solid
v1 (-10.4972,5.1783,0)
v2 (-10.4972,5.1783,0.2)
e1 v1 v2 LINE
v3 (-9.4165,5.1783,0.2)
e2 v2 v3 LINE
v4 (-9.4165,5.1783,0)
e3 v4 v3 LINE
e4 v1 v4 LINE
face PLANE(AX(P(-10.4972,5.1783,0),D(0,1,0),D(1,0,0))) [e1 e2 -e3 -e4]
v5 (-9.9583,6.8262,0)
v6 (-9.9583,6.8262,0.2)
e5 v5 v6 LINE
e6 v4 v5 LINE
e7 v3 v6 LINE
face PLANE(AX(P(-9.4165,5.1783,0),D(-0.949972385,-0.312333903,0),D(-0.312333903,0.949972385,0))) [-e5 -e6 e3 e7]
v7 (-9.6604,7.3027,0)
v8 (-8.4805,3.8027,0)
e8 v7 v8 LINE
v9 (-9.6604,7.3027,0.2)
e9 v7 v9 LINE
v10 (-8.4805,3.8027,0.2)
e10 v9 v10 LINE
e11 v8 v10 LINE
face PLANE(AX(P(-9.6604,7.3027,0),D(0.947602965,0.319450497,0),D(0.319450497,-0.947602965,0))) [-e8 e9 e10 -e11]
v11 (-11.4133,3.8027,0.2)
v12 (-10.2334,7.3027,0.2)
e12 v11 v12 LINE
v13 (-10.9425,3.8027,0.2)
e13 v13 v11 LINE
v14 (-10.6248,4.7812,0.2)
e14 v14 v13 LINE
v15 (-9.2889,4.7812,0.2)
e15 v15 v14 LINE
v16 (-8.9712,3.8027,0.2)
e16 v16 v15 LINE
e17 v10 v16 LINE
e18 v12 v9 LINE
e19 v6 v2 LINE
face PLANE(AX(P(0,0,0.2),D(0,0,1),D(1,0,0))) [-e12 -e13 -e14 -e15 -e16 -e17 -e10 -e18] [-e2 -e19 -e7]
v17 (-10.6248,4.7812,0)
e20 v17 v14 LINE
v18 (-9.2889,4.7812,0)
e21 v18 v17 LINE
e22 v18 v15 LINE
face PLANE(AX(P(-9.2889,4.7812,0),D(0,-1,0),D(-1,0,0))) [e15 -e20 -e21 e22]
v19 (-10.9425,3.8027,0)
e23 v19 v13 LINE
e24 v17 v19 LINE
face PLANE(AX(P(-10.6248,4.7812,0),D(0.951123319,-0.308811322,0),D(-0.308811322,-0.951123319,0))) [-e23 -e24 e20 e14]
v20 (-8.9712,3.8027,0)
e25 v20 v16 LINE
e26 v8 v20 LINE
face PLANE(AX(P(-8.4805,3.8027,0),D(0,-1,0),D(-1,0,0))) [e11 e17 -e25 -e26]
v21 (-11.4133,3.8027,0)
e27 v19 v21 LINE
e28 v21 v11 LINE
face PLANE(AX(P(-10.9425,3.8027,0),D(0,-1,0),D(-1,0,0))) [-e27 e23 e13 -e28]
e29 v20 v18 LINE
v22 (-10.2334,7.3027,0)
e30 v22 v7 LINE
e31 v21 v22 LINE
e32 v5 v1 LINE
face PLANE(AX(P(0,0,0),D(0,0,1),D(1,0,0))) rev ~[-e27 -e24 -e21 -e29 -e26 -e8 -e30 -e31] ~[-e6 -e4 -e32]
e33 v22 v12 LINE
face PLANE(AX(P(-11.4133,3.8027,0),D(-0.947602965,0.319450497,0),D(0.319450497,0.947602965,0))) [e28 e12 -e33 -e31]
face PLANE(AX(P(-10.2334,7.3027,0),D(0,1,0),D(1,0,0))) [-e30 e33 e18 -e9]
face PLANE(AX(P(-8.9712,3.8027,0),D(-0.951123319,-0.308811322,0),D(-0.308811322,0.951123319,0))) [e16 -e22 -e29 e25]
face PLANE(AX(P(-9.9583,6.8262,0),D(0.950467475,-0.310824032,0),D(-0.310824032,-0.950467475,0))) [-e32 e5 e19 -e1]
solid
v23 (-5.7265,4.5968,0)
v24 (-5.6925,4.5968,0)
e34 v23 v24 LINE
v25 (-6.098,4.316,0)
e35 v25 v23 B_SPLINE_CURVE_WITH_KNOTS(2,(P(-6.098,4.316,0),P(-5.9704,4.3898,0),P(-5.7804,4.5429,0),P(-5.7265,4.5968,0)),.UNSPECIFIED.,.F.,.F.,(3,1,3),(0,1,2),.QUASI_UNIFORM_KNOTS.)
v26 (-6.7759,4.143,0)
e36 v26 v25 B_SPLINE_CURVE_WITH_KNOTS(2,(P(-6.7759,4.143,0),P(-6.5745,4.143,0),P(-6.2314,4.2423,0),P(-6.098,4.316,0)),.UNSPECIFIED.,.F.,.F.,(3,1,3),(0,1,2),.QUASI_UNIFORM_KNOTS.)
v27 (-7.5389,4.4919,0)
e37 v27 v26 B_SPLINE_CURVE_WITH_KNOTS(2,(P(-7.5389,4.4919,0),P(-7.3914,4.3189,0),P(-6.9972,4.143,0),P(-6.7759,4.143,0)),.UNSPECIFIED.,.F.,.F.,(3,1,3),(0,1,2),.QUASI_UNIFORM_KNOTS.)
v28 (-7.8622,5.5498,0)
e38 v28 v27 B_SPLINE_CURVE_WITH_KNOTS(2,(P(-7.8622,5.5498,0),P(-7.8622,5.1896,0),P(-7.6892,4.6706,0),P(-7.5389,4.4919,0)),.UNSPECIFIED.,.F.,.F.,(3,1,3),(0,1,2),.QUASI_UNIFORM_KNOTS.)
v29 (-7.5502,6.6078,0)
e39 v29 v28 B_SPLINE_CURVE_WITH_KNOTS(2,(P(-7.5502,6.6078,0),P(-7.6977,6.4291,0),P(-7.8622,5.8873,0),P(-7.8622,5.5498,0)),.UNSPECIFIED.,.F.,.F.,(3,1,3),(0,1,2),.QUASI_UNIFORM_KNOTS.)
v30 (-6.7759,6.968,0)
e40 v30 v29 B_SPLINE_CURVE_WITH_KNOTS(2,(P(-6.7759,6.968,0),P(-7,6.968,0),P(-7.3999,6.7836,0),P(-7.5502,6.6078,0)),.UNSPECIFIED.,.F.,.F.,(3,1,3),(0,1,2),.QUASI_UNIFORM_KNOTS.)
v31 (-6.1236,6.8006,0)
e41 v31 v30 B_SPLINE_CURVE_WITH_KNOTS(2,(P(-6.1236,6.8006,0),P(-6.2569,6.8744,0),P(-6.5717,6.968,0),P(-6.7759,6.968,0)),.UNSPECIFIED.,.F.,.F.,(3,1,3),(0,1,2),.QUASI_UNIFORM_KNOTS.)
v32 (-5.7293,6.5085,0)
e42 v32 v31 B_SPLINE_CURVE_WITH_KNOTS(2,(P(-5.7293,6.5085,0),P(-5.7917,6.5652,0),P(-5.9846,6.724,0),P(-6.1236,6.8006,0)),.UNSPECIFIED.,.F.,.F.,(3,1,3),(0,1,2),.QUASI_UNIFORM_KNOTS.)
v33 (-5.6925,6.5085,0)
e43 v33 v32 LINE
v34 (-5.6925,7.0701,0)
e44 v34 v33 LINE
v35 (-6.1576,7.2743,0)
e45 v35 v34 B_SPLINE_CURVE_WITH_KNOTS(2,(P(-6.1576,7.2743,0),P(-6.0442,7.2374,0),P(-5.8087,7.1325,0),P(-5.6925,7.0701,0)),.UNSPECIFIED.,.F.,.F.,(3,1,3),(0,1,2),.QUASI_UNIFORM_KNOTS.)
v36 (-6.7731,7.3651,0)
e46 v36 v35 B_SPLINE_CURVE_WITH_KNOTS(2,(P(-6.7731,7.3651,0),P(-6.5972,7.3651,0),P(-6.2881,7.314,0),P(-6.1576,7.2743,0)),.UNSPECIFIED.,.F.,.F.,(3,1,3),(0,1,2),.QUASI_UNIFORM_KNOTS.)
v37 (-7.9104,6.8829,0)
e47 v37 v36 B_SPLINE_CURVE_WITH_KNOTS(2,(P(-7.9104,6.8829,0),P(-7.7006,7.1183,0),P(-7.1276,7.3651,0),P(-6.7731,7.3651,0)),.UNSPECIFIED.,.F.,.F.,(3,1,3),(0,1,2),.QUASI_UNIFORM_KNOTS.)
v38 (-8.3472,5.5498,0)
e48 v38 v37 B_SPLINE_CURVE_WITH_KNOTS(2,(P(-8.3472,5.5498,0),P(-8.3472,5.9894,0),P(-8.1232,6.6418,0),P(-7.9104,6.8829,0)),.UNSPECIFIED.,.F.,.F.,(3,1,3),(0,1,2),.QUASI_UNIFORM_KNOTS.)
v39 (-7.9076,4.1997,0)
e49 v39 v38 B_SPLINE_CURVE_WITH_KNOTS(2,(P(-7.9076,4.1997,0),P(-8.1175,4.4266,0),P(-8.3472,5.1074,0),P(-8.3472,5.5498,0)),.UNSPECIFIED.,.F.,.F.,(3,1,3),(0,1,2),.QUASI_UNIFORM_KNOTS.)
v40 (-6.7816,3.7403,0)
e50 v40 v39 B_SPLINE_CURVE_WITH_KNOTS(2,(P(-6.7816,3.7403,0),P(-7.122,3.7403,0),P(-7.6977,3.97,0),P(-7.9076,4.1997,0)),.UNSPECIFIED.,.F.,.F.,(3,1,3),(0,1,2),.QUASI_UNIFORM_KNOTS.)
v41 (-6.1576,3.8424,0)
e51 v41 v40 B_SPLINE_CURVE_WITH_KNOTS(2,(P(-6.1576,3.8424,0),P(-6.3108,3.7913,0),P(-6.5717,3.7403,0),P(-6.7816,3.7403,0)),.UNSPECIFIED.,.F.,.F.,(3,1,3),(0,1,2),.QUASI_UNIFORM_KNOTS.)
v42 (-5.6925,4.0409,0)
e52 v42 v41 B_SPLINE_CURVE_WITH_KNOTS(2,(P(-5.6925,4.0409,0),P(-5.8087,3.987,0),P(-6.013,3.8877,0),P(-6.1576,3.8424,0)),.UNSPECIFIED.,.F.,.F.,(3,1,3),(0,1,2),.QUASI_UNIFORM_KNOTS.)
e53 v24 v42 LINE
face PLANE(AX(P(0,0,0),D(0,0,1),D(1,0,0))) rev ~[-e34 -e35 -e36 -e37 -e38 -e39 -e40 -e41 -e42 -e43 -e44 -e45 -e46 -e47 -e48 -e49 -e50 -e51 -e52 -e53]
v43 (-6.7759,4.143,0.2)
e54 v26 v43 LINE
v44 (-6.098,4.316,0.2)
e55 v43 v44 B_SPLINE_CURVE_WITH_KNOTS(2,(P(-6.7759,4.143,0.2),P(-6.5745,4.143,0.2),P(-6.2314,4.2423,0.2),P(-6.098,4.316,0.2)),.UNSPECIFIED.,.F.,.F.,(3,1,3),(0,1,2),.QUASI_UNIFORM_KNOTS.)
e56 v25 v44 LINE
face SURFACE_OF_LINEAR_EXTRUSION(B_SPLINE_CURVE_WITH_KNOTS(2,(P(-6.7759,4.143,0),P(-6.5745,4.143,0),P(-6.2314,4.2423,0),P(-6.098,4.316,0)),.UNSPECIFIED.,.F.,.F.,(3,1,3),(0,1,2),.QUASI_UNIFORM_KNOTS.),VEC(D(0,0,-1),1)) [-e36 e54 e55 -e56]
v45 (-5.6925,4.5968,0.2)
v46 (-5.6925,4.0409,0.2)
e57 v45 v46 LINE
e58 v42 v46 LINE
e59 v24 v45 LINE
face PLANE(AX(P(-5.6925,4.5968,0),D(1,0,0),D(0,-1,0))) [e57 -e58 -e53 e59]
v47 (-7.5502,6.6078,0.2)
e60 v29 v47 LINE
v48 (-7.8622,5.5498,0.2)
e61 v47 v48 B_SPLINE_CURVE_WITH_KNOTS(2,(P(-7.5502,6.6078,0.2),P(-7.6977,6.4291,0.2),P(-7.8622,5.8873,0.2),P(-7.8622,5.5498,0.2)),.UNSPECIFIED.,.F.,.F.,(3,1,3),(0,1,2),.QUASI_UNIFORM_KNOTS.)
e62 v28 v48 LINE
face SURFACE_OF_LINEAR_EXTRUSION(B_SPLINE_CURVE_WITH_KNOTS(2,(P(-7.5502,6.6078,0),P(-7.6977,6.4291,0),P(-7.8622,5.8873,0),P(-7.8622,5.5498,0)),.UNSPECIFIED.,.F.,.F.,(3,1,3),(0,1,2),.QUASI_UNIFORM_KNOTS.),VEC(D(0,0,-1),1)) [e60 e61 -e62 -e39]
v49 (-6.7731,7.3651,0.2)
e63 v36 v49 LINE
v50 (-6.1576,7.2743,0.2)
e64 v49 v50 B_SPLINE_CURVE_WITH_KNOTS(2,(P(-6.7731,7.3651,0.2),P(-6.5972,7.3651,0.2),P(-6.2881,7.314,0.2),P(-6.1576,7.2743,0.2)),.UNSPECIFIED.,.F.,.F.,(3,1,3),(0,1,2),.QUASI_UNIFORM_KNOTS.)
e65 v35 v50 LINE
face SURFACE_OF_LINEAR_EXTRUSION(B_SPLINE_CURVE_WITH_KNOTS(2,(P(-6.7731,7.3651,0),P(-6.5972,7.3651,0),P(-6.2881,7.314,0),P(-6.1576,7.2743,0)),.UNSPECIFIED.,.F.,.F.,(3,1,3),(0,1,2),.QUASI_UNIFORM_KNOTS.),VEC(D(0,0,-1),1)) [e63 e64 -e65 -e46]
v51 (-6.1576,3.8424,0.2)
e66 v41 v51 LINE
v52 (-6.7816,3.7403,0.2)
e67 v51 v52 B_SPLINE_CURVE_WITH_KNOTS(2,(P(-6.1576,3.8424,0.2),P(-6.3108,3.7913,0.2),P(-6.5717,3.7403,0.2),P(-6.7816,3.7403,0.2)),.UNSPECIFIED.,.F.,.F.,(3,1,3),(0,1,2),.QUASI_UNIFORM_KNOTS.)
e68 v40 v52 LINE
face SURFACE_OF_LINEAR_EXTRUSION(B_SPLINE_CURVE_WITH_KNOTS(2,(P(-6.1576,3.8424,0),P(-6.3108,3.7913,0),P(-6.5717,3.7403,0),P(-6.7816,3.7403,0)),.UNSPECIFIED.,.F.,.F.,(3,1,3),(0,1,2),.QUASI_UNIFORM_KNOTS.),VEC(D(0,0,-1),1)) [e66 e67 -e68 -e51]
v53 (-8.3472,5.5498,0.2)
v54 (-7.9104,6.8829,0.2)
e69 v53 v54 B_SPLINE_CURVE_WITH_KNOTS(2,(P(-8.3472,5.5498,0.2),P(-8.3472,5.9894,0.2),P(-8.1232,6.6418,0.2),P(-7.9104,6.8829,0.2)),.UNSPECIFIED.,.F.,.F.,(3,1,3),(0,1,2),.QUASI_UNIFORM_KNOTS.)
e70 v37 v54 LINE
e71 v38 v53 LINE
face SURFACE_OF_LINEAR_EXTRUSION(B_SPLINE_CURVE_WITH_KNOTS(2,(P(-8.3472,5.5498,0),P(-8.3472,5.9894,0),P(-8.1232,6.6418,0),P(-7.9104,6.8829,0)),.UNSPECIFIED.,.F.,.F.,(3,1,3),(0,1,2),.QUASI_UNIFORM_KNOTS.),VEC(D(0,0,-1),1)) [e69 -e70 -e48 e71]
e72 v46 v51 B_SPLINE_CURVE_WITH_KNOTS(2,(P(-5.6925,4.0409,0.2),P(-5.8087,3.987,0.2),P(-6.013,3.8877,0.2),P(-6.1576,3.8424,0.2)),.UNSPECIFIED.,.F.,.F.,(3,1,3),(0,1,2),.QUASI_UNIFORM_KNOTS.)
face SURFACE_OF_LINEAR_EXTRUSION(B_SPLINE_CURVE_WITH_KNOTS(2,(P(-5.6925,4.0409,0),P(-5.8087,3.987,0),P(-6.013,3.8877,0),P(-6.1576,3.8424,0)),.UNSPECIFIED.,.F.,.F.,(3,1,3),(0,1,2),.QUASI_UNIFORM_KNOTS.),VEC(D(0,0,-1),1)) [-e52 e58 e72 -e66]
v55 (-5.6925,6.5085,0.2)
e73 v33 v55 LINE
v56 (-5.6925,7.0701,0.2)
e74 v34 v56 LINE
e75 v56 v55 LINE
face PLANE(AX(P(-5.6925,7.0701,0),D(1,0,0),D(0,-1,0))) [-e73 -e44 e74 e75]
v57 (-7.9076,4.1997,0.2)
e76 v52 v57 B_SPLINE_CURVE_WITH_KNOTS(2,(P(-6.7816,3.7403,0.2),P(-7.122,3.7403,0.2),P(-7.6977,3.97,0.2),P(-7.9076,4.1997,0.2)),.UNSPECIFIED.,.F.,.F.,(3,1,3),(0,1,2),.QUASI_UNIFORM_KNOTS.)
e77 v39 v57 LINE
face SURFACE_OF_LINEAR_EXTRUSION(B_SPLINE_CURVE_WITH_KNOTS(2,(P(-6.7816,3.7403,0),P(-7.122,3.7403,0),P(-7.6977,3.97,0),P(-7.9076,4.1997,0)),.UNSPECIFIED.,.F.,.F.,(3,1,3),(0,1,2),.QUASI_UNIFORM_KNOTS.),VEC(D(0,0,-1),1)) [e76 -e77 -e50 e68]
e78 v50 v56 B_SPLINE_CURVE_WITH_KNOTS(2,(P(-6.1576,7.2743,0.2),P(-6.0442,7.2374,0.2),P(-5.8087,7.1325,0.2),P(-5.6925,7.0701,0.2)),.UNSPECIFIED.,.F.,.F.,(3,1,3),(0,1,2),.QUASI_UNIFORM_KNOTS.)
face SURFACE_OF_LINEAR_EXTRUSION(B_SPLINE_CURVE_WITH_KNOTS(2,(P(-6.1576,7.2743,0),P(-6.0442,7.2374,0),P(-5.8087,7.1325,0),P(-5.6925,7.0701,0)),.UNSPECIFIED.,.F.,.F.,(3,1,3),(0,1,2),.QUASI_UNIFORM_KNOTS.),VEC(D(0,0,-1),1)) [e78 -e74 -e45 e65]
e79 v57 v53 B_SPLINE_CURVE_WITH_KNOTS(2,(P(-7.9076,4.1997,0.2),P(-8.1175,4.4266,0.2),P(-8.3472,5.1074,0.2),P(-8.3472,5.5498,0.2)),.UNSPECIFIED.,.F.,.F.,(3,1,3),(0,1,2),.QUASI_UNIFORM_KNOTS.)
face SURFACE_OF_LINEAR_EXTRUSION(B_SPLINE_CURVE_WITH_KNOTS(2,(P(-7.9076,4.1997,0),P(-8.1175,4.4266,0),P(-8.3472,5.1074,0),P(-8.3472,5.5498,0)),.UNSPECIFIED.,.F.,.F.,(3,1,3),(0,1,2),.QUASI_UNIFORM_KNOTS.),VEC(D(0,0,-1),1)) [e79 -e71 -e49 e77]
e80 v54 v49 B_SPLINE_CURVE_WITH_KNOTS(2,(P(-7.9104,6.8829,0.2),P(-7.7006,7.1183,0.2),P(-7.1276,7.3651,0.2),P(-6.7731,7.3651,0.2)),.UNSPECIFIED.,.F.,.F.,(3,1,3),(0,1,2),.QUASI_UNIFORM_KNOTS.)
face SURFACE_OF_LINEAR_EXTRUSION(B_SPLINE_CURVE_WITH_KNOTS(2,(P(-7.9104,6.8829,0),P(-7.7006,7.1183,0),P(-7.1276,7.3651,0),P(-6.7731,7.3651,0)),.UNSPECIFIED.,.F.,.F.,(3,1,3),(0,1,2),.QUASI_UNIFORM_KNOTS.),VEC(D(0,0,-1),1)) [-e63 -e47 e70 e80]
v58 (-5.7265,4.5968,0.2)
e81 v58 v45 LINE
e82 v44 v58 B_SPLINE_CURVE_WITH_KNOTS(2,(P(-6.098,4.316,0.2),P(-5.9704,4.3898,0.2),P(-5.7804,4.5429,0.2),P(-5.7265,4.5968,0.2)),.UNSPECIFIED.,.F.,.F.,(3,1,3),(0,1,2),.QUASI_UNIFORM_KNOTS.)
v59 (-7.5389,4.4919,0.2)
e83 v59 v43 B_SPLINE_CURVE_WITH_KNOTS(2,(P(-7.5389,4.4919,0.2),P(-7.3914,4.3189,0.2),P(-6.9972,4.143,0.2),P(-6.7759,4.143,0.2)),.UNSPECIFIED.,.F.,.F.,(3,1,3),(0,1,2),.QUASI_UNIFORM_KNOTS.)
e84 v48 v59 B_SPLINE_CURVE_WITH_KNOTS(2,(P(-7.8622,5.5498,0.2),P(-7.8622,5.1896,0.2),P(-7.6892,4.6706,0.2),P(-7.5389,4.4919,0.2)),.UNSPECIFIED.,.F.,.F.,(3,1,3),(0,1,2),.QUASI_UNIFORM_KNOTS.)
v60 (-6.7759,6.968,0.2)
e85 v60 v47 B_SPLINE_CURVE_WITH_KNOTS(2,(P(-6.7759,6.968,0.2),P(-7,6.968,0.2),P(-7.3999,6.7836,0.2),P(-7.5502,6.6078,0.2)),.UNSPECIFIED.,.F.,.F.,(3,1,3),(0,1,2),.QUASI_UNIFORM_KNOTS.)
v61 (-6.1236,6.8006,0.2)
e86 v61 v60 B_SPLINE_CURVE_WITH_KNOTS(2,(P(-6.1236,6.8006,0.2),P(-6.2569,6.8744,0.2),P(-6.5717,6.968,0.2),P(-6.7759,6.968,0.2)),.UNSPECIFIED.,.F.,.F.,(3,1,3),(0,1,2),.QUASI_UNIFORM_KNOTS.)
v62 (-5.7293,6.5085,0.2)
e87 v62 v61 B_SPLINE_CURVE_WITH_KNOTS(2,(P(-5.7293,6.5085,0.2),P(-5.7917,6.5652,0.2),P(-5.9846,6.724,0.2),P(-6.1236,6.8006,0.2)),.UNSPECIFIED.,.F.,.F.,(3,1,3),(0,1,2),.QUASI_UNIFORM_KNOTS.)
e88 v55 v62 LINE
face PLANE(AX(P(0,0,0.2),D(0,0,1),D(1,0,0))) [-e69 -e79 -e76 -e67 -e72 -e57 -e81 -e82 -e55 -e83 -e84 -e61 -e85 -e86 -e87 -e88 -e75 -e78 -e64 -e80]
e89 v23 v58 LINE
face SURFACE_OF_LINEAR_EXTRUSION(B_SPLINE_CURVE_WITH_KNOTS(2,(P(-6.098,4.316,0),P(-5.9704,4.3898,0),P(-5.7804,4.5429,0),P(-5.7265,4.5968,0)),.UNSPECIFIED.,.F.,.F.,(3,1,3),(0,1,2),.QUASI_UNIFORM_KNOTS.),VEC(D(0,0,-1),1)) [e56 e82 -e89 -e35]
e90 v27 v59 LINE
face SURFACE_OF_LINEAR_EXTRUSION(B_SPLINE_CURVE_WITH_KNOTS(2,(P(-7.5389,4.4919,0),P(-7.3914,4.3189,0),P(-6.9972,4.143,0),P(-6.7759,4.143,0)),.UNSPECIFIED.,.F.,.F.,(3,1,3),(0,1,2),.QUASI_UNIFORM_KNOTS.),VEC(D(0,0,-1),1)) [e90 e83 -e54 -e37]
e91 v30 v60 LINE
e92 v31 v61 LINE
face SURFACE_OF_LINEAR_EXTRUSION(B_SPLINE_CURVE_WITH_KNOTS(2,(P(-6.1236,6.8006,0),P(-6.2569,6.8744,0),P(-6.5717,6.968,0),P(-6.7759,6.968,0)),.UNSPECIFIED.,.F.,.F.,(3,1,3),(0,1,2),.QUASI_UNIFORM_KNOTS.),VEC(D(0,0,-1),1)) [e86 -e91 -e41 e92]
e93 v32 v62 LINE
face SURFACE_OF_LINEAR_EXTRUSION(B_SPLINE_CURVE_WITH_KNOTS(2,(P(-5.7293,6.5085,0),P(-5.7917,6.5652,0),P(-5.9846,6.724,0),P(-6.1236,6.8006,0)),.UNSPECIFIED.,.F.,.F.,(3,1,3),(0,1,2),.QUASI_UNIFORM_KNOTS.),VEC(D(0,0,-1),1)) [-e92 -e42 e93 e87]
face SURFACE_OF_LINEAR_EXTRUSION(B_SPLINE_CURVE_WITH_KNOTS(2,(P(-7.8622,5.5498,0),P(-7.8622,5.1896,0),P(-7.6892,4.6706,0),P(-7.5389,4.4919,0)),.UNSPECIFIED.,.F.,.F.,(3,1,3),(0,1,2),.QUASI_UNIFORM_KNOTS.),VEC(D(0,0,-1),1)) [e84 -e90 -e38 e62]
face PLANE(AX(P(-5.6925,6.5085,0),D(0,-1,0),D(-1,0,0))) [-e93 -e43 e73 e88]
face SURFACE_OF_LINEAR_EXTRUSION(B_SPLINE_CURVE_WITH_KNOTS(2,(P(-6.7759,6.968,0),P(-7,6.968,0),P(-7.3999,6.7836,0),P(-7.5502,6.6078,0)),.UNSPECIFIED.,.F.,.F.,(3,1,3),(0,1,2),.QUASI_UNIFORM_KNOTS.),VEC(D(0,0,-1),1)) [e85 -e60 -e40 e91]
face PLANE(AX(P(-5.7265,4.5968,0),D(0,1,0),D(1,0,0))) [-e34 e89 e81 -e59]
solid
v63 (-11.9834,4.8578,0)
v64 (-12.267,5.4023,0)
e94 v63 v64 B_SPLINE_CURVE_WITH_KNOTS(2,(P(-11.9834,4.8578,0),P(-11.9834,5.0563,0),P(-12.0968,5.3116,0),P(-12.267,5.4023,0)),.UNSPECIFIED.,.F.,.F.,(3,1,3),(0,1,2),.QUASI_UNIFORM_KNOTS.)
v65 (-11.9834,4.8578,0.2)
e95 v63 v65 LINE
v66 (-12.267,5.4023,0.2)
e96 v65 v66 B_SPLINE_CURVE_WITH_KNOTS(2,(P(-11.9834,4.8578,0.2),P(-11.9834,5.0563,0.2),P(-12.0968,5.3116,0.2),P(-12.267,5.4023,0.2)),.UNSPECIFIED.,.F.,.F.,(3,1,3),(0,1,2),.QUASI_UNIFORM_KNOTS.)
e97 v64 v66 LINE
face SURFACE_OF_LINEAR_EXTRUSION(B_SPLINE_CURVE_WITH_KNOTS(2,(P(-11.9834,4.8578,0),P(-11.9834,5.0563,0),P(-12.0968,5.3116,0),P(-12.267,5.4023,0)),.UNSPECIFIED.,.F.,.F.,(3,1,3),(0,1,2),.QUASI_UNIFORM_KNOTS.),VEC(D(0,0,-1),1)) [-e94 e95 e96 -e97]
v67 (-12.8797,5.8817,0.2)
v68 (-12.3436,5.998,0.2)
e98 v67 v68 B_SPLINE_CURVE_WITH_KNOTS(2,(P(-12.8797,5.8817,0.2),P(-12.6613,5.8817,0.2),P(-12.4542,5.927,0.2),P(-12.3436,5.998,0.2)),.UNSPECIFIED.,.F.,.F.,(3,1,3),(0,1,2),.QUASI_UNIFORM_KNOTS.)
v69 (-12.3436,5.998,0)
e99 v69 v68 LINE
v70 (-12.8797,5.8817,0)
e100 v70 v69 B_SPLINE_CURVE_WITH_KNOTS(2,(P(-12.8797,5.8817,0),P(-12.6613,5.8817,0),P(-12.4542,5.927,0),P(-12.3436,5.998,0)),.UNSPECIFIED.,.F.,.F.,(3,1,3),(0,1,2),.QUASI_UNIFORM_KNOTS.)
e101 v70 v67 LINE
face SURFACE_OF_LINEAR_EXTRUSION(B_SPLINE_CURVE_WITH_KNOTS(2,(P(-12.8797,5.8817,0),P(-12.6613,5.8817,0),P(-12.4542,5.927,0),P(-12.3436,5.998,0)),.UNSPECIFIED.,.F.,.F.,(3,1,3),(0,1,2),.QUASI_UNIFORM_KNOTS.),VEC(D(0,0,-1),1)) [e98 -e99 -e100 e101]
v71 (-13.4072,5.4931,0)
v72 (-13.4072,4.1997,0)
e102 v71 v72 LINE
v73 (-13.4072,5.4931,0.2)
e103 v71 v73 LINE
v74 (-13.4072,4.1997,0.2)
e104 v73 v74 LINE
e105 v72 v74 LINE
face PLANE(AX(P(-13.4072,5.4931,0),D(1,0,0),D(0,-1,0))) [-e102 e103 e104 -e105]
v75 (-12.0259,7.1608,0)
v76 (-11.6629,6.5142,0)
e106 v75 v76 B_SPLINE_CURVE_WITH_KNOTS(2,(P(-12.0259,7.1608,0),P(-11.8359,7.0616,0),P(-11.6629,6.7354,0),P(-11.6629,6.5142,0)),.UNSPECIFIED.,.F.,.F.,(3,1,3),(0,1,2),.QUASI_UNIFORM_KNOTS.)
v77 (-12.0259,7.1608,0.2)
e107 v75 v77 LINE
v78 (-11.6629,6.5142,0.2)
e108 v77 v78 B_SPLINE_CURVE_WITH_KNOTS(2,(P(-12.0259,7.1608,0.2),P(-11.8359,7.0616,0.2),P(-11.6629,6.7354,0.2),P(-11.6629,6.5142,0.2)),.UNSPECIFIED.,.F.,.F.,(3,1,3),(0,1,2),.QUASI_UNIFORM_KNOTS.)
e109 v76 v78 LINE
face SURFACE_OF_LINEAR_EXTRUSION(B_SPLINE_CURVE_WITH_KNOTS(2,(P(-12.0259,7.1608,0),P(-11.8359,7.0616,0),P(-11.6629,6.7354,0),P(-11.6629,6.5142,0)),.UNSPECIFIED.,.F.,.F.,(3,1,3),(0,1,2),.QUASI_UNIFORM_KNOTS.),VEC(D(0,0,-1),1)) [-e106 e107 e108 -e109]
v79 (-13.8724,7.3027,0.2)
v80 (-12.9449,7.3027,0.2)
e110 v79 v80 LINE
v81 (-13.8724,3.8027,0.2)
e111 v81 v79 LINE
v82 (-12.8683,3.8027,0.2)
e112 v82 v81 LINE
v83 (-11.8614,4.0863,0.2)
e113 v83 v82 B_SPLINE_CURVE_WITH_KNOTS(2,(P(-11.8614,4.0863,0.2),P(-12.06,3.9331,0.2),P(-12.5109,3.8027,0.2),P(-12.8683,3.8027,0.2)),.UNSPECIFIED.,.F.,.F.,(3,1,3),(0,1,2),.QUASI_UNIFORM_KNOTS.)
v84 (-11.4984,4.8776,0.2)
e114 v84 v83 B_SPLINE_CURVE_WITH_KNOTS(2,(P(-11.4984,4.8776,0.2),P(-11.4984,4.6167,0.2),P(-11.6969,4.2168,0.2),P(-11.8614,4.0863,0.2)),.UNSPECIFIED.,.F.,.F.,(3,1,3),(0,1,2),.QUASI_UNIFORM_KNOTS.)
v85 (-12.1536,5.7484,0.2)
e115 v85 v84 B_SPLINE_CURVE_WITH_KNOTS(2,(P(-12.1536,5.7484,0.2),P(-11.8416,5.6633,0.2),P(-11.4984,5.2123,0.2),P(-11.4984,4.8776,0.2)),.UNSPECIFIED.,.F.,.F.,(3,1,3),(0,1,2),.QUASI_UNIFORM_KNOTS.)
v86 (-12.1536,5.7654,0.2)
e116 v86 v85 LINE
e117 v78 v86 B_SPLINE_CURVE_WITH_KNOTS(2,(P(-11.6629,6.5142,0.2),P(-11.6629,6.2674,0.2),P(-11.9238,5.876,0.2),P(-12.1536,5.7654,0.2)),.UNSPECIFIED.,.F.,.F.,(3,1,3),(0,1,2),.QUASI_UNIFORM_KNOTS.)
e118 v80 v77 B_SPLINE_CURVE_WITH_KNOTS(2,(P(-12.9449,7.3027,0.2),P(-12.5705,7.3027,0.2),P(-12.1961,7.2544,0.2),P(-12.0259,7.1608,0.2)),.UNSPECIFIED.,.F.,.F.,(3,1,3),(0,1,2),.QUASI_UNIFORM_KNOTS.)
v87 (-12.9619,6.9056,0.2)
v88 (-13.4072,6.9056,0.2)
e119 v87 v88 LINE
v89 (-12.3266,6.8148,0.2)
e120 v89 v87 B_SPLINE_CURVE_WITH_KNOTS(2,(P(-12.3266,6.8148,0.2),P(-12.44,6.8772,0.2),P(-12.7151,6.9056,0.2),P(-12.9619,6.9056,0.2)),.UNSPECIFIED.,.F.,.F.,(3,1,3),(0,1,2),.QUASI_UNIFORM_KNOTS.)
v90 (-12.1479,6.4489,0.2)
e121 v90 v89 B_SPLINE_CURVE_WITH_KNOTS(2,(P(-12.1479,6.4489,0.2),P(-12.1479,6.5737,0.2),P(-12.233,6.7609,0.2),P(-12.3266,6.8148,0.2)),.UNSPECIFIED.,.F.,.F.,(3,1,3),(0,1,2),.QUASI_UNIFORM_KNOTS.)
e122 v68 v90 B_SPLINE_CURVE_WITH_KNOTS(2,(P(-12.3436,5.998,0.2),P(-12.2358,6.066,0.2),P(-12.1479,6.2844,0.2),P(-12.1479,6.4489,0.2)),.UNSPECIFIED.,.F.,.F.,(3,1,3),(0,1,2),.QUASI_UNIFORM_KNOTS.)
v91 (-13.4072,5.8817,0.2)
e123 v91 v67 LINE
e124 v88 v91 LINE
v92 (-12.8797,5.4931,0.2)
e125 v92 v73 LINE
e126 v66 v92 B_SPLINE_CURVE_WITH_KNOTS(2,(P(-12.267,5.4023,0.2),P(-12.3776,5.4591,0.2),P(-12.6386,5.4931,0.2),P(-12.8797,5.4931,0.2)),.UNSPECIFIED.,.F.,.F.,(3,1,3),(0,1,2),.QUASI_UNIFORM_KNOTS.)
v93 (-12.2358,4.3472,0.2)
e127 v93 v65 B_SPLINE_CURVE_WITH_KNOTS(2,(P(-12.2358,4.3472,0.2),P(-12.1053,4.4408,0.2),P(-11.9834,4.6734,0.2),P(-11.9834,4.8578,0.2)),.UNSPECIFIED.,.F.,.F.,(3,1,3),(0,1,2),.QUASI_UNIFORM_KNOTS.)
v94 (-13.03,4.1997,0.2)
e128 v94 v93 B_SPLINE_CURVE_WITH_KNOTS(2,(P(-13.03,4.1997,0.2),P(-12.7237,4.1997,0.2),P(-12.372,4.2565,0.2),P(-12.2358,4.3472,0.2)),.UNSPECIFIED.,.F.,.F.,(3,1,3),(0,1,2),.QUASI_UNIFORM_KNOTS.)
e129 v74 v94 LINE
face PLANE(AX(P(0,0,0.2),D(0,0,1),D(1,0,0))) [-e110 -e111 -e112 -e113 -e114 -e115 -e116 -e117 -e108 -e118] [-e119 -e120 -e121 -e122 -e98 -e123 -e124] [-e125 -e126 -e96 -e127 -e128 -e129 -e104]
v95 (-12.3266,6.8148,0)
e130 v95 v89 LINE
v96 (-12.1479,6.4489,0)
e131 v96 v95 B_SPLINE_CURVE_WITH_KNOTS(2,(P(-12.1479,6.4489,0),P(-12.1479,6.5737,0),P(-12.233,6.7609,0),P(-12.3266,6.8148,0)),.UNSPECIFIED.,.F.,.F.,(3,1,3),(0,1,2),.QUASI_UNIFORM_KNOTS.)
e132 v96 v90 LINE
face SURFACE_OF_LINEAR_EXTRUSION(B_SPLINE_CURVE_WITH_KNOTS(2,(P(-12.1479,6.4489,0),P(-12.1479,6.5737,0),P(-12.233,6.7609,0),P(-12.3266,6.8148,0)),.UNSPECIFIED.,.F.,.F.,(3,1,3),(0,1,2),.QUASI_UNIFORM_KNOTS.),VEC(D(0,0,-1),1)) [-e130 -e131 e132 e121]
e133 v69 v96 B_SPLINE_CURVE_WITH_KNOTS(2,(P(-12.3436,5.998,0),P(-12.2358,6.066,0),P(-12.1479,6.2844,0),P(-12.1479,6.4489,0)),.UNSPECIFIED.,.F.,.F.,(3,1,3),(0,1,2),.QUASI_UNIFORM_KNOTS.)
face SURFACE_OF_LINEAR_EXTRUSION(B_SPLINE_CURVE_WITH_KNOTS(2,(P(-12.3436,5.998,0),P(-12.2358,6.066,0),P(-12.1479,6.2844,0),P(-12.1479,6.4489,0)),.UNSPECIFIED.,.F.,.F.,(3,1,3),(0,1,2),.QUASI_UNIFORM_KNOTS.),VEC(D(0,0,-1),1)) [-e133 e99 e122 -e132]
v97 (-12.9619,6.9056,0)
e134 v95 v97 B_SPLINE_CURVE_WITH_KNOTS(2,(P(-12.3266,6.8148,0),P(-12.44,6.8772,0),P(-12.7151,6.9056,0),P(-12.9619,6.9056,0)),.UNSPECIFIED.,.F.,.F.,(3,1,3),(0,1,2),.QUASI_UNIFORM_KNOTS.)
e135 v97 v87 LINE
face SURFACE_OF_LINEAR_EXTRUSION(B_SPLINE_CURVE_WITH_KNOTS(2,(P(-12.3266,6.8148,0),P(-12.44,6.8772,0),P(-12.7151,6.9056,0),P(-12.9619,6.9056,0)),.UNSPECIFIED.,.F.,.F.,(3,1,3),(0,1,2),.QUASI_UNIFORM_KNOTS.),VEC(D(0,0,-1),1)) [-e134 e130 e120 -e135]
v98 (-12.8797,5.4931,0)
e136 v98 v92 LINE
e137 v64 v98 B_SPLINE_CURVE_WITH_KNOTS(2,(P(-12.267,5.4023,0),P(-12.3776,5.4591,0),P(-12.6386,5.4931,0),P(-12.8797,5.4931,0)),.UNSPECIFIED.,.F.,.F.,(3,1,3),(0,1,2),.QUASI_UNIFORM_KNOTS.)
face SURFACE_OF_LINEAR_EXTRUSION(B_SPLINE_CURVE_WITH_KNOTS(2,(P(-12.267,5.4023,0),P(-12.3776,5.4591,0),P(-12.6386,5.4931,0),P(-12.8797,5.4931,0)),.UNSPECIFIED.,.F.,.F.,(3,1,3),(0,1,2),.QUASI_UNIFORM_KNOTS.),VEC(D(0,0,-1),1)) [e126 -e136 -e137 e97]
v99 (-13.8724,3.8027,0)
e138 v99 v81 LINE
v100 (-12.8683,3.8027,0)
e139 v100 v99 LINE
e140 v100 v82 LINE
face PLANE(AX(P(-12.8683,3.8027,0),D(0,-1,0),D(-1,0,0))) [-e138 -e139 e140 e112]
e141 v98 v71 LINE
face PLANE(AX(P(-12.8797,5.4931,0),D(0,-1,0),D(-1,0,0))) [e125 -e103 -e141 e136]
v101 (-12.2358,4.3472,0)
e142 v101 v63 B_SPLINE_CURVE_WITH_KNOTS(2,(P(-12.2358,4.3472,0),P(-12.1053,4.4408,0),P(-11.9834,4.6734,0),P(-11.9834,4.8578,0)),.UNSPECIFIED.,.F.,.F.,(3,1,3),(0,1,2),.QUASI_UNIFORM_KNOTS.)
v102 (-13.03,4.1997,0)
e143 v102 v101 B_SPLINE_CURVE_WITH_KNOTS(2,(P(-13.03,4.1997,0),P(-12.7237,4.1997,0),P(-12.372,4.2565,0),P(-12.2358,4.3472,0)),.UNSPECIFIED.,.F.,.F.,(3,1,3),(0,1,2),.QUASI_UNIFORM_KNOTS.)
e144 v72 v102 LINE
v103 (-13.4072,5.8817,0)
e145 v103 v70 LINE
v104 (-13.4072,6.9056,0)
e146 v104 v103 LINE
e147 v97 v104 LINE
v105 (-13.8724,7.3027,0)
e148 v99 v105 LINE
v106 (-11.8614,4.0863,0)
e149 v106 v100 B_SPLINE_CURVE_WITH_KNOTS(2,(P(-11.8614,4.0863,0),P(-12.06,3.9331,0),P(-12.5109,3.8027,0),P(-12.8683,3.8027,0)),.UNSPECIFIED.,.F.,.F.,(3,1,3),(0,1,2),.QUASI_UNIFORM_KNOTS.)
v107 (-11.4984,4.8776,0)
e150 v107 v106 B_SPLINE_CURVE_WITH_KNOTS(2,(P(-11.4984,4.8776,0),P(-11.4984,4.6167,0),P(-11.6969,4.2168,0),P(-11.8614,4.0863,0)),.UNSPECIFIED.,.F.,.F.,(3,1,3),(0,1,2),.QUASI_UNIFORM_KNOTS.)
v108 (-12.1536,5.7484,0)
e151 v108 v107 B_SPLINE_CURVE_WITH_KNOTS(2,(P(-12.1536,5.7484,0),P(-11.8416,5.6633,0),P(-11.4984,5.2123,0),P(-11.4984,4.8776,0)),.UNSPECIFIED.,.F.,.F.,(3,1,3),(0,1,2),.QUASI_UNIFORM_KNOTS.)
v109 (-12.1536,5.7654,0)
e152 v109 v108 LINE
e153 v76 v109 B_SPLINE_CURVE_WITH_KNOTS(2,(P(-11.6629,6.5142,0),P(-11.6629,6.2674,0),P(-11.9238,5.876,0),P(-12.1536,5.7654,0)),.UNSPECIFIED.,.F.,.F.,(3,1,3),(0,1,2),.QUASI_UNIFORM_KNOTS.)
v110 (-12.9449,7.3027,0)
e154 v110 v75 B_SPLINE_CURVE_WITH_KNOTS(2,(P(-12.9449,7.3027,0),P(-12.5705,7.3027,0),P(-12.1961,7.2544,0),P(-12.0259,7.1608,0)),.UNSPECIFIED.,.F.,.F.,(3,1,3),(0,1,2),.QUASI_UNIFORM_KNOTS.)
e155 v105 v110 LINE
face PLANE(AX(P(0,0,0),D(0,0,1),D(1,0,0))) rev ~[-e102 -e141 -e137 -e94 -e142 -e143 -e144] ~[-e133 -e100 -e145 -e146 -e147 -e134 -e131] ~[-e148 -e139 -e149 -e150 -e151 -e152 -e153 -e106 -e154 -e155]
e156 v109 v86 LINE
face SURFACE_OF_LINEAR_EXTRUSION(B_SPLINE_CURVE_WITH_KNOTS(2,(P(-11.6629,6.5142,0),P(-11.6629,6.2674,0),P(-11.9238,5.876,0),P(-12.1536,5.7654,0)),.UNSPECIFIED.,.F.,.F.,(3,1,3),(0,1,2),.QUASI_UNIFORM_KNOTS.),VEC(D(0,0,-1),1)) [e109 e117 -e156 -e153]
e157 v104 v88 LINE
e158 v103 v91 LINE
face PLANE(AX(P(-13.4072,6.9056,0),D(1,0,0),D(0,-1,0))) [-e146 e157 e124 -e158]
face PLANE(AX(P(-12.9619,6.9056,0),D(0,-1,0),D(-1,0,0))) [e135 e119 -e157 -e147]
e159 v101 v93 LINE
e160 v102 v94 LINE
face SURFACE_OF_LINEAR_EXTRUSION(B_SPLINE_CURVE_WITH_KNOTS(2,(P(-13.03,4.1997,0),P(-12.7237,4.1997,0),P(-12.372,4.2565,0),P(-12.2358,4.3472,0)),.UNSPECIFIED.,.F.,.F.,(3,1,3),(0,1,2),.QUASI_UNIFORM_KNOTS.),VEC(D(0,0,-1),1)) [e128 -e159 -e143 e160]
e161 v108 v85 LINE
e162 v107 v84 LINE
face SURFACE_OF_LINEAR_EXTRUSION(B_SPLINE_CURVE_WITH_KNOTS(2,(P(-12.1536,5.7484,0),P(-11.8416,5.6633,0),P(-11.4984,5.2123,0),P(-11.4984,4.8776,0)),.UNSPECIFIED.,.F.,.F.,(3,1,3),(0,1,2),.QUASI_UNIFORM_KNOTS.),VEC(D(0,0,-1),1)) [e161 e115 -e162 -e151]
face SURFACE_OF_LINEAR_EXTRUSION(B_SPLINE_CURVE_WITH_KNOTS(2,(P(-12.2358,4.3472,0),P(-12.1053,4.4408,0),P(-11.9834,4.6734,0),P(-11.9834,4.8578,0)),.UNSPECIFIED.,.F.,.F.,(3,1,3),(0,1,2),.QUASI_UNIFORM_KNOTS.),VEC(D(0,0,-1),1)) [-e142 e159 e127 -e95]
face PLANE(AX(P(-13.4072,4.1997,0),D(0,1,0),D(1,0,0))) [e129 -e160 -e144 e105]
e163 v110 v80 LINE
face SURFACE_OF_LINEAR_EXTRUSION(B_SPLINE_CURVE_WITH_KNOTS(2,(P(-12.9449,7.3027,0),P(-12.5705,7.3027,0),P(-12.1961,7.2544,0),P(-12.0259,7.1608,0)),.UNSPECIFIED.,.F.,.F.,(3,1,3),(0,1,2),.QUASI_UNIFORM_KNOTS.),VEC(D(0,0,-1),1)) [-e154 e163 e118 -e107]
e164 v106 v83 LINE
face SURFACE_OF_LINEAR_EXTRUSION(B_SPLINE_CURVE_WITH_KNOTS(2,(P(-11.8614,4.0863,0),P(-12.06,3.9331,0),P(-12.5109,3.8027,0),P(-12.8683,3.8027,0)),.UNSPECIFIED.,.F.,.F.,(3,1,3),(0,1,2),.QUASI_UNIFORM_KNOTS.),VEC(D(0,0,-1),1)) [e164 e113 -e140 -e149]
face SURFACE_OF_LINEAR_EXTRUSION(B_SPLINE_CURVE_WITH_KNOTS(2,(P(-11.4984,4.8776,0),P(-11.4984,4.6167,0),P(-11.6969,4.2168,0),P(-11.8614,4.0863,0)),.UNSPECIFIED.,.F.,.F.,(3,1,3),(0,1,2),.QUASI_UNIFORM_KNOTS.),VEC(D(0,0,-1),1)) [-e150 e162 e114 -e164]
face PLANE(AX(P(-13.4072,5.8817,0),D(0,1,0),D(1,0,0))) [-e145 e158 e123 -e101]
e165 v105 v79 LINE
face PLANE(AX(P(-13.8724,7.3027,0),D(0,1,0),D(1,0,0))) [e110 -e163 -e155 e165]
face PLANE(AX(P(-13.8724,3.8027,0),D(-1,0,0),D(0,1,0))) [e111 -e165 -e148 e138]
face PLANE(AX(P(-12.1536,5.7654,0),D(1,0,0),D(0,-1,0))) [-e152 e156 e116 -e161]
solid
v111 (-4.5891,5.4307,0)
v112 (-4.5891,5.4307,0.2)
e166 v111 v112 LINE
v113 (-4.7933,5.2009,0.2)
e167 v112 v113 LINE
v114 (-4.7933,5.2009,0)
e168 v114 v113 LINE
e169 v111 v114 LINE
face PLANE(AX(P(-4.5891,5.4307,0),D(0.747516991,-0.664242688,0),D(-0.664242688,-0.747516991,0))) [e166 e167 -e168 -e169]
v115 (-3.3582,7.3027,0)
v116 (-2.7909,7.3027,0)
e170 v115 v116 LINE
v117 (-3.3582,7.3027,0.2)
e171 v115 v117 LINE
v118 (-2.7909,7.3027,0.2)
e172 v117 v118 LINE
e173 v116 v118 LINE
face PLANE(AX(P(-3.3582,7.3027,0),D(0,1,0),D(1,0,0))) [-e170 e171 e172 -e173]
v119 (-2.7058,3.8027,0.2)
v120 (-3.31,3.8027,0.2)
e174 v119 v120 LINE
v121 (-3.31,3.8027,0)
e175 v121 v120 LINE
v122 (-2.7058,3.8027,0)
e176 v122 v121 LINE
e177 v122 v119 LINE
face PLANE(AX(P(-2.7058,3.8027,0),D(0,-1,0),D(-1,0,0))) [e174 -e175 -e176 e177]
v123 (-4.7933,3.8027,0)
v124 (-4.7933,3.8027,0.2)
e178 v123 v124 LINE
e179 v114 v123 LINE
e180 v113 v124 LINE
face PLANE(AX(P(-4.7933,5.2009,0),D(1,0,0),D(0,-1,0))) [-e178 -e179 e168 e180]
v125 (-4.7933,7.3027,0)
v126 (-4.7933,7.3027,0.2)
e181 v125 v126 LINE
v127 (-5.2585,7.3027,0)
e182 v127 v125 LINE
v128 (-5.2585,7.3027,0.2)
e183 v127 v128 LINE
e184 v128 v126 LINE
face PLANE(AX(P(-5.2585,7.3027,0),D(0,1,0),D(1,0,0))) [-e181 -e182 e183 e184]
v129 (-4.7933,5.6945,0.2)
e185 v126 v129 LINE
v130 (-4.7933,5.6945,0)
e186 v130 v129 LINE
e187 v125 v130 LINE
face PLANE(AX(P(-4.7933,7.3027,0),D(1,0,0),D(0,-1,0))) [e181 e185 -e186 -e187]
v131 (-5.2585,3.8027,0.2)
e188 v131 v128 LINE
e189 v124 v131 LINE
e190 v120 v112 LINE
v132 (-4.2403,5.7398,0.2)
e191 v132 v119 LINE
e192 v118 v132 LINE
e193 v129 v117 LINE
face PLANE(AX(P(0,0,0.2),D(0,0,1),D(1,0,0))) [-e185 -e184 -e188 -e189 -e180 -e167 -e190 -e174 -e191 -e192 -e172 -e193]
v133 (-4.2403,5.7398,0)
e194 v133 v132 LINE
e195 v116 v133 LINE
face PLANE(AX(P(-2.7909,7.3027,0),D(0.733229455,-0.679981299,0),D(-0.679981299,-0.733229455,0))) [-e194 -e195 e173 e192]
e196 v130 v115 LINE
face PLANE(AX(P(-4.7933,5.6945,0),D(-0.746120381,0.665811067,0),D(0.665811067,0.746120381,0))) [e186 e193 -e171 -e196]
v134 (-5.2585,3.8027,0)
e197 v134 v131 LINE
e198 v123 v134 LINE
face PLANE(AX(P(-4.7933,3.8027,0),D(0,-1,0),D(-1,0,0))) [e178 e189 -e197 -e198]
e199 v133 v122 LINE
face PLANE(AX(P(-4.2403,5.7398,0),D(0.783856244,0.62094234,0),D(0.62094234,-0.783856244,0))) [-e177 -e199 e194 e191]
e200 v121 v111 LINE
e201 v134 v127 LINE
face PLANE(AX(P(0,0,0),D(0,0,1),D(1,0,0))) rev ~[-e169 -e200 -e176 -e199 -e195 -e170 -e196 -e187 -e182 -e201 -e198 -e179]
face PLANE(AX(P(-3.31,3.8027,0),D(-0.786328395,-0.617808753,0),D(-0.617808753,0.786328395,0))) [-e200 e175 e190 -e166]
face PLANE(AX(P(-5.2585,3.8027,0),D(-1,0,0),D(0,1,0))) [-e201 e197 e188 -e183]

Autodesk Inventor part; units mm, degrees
ref_plane "YZ Plane" through (0, 0, 0) normal (1, 0, 0) x (0, 1, 0)
ref_plane "XZ Plane" through (0, 0, 0) normal (0, 1, 0) x (-1, 0, 0)
ref_plane "XY Plane" through (0, 0, 0) normal (0, 0, 1) x (1, 0, 0)
sketch "Sketch1" plane through (0, 0, 0) normal (0, 0, 1) x (1, 0, 0)
  line L0 (-14.2269, 7.3651) -> (16.5142, 7.3651) construction
  line L1 (16.5142, 7.3651) -> (16.5142, -10.6587) construction
  line L2 (16.5142, -10.6587) -> (-14.2269, -10.6587) construction
  line L3 (-14.2269, -10.6587) -> (-14.2269, 7.3651) construction
  spline S0 degree 2 poles (-11.4984, 4.8776) (-11.4984, 4.6167) (-11.6969, 4.2168) (-11.8614, 4.0863) knots 0 0 0 1 2 2 2
  spline S1 degree 2 poles (-11.8614, 4.0863) (-12.06, 3.9331) (-12.5109, 3.8027) (-12.8683, 3.8027) knots 0 0 0 1 2 2 2
  line L4 (-12.8683, 3.8027) -> (-13.8724, 3.8027)
  line L5 (-13.8724, 3.8027) -> (-13.8724, 7.3027)
  line L6 (-13.8724, 7.3027) -> (-12.9449, 7.3027)
  spline S2 degree 2 poles (-12.9449, 7.3027) (-12.5705, 7.3027) (-12.1961, 7.2544) (-12.0259, 7.1608) knots 0 0 0 1 2 2 2
  spline S3 degree 2 poles (-12.0259, 7.1608) (-11.8359, 7.0616) (-11.6629, 6.7354) (-11.6629, 6.5142) knots 0 0 0 1 2 2 2
  spline S4 degree 2 poles (-11.6629, 6.5142) (-11.6629, 6.2674) (-11.9238, 5.876) (-12.1536, 5.7654) knots 0 0 0 1 2 2 2
  line L7 (-12.1536, 5.7654) -> (-12.1536, 5.7484)
  spline S5 degree 2 poles (-12.1536, 5.7484) (-11.8416, 5.6633) (-11.4984, 5.2123) (-11.4984, 4.8776) knots 0 0 0 1 2 2 2
  spline S6 degree 2 poles (-11.9834, 4.8578) (-11.9834, 5.0563) (-12.0968, 5.3116) (-12.267, 5.4023) knots 0 0 0 1 2 2 2
  spline S7 degree 2 poles (-12.267, 5.4023) (-12.3776, 5.4591) (-12.6386, 5.4931) (-12.8797, 5.4931) knots 0 0 0 1 2 2 2
  line L8 (-12.8797, 5.4931) -> (-13.4072, 5.4931)
  line L9 (-13.4072, 5.4931) -> (-13.4072, 4.1997)
  line L10 (-13.4072, 4.1997) -> (-13.03, 4.1997)
  spline S8 degree 2 poles (-13.03, 4.1997) (-12.7237, 4.1997) (-12.372, 4.2565) (-12.2358, 4.3472) knots 0 0 0 1 2 2 2
  spline S9 degree 2 poles (-12.2358, 4.3472) (-12.1053, 4.4408) (-11.9834, 4.6734) (-11.9834, 4.8578) knots 0 0 0 1 2 2 2
  spline S10 degree 2 poles (-12.1479, 6.4489) (-12.1479, 6.5737) (-12.233, 6.7609) (-12.3266, 6.8148) knots 0 0 0 1 2 2 2
  spline S11 degree 2 poles (-12.3266, 6.8148) (-12.44, 6.8772) (-12.7151, 6.9056) (-12.9619, 6.9056) knots 0 0 0 1 2 2 2
  line L11 (-12.9619, 6.9056) -> (-13.4072, 6.9056)
  line L12 (-13.4072, 6.9056) -> (-13.4072, 5.8817)
  line L13 (-13.4072, 5.8817) -> (-12.8797, 5.8817)
  spline S12 degree 2 poles (-12.8797, 5.8817) (-12.6613, 5.8817) (-12.4542, 5.927) (-12.3436, 5.998) knots 0 0 0 1 2 2 2
  spline S13 degree 2 poles (-12.3436, 5.998) (-12.2358, 6.066) (-12.1479, 6.2844) (-12.1479, 6.4489) knots 0 0 0 1 2 2 2
  line L14 (-11.4133, 3.8027) -> (-10.2334, 7.3027)
  line L15 (-10.2334, 7.3027) -> (-9.6604, 7.3027)
  line L16 (-9.6604, 7.3027) -> (-8.4805, 3.8027)
  line L17 (-8.4805, 3.8027) -> (-8.9712, 3.8027)
  line L18 (-8.9712, 3.8027) -> (-9.2889, 4.7812)
  line L19 (-9.2889, 4.7812) -> (-10.6248, 4.7812)
  line L20 (-10.6248, 4.7812) -> (-10.9425, 3.8027)
  line L21 (-10.9425, 3.8027) -> (-11.4133, 3.8027)
  line L22 (-9.4165, 5.1783) -> (-9.9583, 6.8262)
  line L23 (-9.9583, 6.8262) -> (-10.4972, 5.1783)
  line L24 (-10.4972, 5.1783) -> (-9.4165, 5.1783)
  spline S14 degree 2 poles (-6.7816, 3.7403) (-7.122, 3.7403) (-7.6977, 3.97) (-7.9076, 4.1997) knots 0 0 0 1 2 2 2
  spline S15 degree 2 poles (-7.9076, 4.1997) (-8.1175, 4.4266) (-8.3472, 5.1074) (-8.3472, 5.5498) knots 0 0 0 1 2 2 2
  spline S16 degree 2 poles (-8.3472, 5.5498) (-8.3472, 5.9894) (-8.1232, 6.6418) (-7.9104, 6.8829) knots 0 0 0 1 2 2 2
  spline S17 degree 2 poles (-7.9104, 6.8829) (-7.7006, 7.1183) (-7.1276, 7.3651) (-6.7731, 7.3651) knots 0 0 0 1 2 2 2
  spline S18 degree 2 poles (-6.7731, 7.3651) (-6.5972, 7.3651) (-6.2881, 7.314) (-6.1576, 7.2743) knots 0 0 0 1 2 2 2
  spline S19 degree 2 poles (-6.1576, 7.2743) (-6.0442, 7.2374) (-5.8087, 7.1325) (-5.6925, 7.0701) knots 0 0 0 1 2 2 2
  line L25 (-5.6925, 7.0701) -> (-5.6925, 6.5085)
  line L26 (-5.6925, 6.5085) -> (-5.7293, 6.5085)
  spline S20 degree 2 poles (-5.7293, 6.5085) (-5.7917, 6.5652) (-5.9846, 6.724) (-6.1236, 6.8006) knots 0 0 0 1 2 2 2
  spline S21 degree 2 poles (-6.1236, 6.8006) (-6.2569, 6.8744) (-6.5717, 6.968) (-6.7759, 6.968) knots 0 0 0 1 2 2 2
  spline S22 degree 2 poles (-6.7759, 6.968) (-7, 6.968) (-7.3999, 6.7836) (-7.5502, 6.6078) knots 0 0 0 1 2 2 2
  spline S23 degree 2 poles (-7.5502, 6.6078) (-7.6977, 6.4291) (-7.8622, 5.8873) (-7.8622, 5.5498) knots 0 0 0 1 2 2 2
  spline S24 degree 2 poles (-7.8622, 5.5498) (-7.8622, 5.1896) (-7.6892, 4.6706) (-7.5389, 4.4919) knots 0 0 0 1 2 2 2
  spline S25 degree 2 poles (-7.5389, 4.4919) (-7.3914, 4.3189) (-6.9972, 4.143) (-6.7759, 4.143) knots 0 0 0 1 2 2 2
  spline S26 degree 2 poles (-6.7759, 4.143) (-6.5745, 4.143) (-6.2314, 4.2423) (-6.098, 4.316) knots 0 0 0 1 2 2 2
  spline S27 degree 2 poles (-6.098, 4.316) (-5.9704, 4.3898) (-5.7804, 4.5429) (-5.7265, 4.5968) knots 0 0 0 1 2 2 2
  line L27 (-5.7265, 4.5968) -> (-5.6925, 4.5968)
  line L28 (-5.6925, 4.5968) -> (-5.6925, 4.0409)
  spline S28 degree 2 poles (-5.6925, 4.0409) (-5.8087, 3.987) (-6.013, 3.8877) (-6.1576, 3.8424) knots 0 0 0 1 2 2 2
  spline S29 degree 2 poles (-6.1576, 3.8424) (-6.3108, 3.7913) (-6.5717, 3.7403) (-6.7816, 3.7403) knots 0 0 0 1 2 2 2
  line L29 (-2.7058, 3.8027) -> (-3.31, 3.8027)
  line L30 (-3.31, 3.8027) -> (-4.5891, 5.4307)
  line L31 (-4.5891, 5.4307) -> (-4.7933, 5.2009)
  line L32 (-4.7933, 5.2009) -> (-4.7933, 3.8027)
  line L33 (-4.7933, 3.8027) -> (-5.2585, 3.8027)
  line L34 (-5.2585, 3.8027) -> (-5.2585, 7.3027)
  line L35 (-5.2585, 7.3027) -> (-4.7933, 7.3027)
  line L36 (-4.7933, 7.3027) -> (-4.7933, 5.6945)
  line L37 (-4.7933, 5.6945) -> (-3.3582, 7.3027)
  line L38 (-3.3582, 7.3027) -> (-2.7909, 7.3027)
  line L39 (-2.7909, 7.3027) -> (-4.2403, 5.7398)
  line L40 (-4.2403, 5.7398) -> (-2.7058, 3.8027)
  point P0 (0, 0)
extrude "BackLabel" add sketch "Sketch1" along normal blind 0.2
properties part number "BackLabel"
